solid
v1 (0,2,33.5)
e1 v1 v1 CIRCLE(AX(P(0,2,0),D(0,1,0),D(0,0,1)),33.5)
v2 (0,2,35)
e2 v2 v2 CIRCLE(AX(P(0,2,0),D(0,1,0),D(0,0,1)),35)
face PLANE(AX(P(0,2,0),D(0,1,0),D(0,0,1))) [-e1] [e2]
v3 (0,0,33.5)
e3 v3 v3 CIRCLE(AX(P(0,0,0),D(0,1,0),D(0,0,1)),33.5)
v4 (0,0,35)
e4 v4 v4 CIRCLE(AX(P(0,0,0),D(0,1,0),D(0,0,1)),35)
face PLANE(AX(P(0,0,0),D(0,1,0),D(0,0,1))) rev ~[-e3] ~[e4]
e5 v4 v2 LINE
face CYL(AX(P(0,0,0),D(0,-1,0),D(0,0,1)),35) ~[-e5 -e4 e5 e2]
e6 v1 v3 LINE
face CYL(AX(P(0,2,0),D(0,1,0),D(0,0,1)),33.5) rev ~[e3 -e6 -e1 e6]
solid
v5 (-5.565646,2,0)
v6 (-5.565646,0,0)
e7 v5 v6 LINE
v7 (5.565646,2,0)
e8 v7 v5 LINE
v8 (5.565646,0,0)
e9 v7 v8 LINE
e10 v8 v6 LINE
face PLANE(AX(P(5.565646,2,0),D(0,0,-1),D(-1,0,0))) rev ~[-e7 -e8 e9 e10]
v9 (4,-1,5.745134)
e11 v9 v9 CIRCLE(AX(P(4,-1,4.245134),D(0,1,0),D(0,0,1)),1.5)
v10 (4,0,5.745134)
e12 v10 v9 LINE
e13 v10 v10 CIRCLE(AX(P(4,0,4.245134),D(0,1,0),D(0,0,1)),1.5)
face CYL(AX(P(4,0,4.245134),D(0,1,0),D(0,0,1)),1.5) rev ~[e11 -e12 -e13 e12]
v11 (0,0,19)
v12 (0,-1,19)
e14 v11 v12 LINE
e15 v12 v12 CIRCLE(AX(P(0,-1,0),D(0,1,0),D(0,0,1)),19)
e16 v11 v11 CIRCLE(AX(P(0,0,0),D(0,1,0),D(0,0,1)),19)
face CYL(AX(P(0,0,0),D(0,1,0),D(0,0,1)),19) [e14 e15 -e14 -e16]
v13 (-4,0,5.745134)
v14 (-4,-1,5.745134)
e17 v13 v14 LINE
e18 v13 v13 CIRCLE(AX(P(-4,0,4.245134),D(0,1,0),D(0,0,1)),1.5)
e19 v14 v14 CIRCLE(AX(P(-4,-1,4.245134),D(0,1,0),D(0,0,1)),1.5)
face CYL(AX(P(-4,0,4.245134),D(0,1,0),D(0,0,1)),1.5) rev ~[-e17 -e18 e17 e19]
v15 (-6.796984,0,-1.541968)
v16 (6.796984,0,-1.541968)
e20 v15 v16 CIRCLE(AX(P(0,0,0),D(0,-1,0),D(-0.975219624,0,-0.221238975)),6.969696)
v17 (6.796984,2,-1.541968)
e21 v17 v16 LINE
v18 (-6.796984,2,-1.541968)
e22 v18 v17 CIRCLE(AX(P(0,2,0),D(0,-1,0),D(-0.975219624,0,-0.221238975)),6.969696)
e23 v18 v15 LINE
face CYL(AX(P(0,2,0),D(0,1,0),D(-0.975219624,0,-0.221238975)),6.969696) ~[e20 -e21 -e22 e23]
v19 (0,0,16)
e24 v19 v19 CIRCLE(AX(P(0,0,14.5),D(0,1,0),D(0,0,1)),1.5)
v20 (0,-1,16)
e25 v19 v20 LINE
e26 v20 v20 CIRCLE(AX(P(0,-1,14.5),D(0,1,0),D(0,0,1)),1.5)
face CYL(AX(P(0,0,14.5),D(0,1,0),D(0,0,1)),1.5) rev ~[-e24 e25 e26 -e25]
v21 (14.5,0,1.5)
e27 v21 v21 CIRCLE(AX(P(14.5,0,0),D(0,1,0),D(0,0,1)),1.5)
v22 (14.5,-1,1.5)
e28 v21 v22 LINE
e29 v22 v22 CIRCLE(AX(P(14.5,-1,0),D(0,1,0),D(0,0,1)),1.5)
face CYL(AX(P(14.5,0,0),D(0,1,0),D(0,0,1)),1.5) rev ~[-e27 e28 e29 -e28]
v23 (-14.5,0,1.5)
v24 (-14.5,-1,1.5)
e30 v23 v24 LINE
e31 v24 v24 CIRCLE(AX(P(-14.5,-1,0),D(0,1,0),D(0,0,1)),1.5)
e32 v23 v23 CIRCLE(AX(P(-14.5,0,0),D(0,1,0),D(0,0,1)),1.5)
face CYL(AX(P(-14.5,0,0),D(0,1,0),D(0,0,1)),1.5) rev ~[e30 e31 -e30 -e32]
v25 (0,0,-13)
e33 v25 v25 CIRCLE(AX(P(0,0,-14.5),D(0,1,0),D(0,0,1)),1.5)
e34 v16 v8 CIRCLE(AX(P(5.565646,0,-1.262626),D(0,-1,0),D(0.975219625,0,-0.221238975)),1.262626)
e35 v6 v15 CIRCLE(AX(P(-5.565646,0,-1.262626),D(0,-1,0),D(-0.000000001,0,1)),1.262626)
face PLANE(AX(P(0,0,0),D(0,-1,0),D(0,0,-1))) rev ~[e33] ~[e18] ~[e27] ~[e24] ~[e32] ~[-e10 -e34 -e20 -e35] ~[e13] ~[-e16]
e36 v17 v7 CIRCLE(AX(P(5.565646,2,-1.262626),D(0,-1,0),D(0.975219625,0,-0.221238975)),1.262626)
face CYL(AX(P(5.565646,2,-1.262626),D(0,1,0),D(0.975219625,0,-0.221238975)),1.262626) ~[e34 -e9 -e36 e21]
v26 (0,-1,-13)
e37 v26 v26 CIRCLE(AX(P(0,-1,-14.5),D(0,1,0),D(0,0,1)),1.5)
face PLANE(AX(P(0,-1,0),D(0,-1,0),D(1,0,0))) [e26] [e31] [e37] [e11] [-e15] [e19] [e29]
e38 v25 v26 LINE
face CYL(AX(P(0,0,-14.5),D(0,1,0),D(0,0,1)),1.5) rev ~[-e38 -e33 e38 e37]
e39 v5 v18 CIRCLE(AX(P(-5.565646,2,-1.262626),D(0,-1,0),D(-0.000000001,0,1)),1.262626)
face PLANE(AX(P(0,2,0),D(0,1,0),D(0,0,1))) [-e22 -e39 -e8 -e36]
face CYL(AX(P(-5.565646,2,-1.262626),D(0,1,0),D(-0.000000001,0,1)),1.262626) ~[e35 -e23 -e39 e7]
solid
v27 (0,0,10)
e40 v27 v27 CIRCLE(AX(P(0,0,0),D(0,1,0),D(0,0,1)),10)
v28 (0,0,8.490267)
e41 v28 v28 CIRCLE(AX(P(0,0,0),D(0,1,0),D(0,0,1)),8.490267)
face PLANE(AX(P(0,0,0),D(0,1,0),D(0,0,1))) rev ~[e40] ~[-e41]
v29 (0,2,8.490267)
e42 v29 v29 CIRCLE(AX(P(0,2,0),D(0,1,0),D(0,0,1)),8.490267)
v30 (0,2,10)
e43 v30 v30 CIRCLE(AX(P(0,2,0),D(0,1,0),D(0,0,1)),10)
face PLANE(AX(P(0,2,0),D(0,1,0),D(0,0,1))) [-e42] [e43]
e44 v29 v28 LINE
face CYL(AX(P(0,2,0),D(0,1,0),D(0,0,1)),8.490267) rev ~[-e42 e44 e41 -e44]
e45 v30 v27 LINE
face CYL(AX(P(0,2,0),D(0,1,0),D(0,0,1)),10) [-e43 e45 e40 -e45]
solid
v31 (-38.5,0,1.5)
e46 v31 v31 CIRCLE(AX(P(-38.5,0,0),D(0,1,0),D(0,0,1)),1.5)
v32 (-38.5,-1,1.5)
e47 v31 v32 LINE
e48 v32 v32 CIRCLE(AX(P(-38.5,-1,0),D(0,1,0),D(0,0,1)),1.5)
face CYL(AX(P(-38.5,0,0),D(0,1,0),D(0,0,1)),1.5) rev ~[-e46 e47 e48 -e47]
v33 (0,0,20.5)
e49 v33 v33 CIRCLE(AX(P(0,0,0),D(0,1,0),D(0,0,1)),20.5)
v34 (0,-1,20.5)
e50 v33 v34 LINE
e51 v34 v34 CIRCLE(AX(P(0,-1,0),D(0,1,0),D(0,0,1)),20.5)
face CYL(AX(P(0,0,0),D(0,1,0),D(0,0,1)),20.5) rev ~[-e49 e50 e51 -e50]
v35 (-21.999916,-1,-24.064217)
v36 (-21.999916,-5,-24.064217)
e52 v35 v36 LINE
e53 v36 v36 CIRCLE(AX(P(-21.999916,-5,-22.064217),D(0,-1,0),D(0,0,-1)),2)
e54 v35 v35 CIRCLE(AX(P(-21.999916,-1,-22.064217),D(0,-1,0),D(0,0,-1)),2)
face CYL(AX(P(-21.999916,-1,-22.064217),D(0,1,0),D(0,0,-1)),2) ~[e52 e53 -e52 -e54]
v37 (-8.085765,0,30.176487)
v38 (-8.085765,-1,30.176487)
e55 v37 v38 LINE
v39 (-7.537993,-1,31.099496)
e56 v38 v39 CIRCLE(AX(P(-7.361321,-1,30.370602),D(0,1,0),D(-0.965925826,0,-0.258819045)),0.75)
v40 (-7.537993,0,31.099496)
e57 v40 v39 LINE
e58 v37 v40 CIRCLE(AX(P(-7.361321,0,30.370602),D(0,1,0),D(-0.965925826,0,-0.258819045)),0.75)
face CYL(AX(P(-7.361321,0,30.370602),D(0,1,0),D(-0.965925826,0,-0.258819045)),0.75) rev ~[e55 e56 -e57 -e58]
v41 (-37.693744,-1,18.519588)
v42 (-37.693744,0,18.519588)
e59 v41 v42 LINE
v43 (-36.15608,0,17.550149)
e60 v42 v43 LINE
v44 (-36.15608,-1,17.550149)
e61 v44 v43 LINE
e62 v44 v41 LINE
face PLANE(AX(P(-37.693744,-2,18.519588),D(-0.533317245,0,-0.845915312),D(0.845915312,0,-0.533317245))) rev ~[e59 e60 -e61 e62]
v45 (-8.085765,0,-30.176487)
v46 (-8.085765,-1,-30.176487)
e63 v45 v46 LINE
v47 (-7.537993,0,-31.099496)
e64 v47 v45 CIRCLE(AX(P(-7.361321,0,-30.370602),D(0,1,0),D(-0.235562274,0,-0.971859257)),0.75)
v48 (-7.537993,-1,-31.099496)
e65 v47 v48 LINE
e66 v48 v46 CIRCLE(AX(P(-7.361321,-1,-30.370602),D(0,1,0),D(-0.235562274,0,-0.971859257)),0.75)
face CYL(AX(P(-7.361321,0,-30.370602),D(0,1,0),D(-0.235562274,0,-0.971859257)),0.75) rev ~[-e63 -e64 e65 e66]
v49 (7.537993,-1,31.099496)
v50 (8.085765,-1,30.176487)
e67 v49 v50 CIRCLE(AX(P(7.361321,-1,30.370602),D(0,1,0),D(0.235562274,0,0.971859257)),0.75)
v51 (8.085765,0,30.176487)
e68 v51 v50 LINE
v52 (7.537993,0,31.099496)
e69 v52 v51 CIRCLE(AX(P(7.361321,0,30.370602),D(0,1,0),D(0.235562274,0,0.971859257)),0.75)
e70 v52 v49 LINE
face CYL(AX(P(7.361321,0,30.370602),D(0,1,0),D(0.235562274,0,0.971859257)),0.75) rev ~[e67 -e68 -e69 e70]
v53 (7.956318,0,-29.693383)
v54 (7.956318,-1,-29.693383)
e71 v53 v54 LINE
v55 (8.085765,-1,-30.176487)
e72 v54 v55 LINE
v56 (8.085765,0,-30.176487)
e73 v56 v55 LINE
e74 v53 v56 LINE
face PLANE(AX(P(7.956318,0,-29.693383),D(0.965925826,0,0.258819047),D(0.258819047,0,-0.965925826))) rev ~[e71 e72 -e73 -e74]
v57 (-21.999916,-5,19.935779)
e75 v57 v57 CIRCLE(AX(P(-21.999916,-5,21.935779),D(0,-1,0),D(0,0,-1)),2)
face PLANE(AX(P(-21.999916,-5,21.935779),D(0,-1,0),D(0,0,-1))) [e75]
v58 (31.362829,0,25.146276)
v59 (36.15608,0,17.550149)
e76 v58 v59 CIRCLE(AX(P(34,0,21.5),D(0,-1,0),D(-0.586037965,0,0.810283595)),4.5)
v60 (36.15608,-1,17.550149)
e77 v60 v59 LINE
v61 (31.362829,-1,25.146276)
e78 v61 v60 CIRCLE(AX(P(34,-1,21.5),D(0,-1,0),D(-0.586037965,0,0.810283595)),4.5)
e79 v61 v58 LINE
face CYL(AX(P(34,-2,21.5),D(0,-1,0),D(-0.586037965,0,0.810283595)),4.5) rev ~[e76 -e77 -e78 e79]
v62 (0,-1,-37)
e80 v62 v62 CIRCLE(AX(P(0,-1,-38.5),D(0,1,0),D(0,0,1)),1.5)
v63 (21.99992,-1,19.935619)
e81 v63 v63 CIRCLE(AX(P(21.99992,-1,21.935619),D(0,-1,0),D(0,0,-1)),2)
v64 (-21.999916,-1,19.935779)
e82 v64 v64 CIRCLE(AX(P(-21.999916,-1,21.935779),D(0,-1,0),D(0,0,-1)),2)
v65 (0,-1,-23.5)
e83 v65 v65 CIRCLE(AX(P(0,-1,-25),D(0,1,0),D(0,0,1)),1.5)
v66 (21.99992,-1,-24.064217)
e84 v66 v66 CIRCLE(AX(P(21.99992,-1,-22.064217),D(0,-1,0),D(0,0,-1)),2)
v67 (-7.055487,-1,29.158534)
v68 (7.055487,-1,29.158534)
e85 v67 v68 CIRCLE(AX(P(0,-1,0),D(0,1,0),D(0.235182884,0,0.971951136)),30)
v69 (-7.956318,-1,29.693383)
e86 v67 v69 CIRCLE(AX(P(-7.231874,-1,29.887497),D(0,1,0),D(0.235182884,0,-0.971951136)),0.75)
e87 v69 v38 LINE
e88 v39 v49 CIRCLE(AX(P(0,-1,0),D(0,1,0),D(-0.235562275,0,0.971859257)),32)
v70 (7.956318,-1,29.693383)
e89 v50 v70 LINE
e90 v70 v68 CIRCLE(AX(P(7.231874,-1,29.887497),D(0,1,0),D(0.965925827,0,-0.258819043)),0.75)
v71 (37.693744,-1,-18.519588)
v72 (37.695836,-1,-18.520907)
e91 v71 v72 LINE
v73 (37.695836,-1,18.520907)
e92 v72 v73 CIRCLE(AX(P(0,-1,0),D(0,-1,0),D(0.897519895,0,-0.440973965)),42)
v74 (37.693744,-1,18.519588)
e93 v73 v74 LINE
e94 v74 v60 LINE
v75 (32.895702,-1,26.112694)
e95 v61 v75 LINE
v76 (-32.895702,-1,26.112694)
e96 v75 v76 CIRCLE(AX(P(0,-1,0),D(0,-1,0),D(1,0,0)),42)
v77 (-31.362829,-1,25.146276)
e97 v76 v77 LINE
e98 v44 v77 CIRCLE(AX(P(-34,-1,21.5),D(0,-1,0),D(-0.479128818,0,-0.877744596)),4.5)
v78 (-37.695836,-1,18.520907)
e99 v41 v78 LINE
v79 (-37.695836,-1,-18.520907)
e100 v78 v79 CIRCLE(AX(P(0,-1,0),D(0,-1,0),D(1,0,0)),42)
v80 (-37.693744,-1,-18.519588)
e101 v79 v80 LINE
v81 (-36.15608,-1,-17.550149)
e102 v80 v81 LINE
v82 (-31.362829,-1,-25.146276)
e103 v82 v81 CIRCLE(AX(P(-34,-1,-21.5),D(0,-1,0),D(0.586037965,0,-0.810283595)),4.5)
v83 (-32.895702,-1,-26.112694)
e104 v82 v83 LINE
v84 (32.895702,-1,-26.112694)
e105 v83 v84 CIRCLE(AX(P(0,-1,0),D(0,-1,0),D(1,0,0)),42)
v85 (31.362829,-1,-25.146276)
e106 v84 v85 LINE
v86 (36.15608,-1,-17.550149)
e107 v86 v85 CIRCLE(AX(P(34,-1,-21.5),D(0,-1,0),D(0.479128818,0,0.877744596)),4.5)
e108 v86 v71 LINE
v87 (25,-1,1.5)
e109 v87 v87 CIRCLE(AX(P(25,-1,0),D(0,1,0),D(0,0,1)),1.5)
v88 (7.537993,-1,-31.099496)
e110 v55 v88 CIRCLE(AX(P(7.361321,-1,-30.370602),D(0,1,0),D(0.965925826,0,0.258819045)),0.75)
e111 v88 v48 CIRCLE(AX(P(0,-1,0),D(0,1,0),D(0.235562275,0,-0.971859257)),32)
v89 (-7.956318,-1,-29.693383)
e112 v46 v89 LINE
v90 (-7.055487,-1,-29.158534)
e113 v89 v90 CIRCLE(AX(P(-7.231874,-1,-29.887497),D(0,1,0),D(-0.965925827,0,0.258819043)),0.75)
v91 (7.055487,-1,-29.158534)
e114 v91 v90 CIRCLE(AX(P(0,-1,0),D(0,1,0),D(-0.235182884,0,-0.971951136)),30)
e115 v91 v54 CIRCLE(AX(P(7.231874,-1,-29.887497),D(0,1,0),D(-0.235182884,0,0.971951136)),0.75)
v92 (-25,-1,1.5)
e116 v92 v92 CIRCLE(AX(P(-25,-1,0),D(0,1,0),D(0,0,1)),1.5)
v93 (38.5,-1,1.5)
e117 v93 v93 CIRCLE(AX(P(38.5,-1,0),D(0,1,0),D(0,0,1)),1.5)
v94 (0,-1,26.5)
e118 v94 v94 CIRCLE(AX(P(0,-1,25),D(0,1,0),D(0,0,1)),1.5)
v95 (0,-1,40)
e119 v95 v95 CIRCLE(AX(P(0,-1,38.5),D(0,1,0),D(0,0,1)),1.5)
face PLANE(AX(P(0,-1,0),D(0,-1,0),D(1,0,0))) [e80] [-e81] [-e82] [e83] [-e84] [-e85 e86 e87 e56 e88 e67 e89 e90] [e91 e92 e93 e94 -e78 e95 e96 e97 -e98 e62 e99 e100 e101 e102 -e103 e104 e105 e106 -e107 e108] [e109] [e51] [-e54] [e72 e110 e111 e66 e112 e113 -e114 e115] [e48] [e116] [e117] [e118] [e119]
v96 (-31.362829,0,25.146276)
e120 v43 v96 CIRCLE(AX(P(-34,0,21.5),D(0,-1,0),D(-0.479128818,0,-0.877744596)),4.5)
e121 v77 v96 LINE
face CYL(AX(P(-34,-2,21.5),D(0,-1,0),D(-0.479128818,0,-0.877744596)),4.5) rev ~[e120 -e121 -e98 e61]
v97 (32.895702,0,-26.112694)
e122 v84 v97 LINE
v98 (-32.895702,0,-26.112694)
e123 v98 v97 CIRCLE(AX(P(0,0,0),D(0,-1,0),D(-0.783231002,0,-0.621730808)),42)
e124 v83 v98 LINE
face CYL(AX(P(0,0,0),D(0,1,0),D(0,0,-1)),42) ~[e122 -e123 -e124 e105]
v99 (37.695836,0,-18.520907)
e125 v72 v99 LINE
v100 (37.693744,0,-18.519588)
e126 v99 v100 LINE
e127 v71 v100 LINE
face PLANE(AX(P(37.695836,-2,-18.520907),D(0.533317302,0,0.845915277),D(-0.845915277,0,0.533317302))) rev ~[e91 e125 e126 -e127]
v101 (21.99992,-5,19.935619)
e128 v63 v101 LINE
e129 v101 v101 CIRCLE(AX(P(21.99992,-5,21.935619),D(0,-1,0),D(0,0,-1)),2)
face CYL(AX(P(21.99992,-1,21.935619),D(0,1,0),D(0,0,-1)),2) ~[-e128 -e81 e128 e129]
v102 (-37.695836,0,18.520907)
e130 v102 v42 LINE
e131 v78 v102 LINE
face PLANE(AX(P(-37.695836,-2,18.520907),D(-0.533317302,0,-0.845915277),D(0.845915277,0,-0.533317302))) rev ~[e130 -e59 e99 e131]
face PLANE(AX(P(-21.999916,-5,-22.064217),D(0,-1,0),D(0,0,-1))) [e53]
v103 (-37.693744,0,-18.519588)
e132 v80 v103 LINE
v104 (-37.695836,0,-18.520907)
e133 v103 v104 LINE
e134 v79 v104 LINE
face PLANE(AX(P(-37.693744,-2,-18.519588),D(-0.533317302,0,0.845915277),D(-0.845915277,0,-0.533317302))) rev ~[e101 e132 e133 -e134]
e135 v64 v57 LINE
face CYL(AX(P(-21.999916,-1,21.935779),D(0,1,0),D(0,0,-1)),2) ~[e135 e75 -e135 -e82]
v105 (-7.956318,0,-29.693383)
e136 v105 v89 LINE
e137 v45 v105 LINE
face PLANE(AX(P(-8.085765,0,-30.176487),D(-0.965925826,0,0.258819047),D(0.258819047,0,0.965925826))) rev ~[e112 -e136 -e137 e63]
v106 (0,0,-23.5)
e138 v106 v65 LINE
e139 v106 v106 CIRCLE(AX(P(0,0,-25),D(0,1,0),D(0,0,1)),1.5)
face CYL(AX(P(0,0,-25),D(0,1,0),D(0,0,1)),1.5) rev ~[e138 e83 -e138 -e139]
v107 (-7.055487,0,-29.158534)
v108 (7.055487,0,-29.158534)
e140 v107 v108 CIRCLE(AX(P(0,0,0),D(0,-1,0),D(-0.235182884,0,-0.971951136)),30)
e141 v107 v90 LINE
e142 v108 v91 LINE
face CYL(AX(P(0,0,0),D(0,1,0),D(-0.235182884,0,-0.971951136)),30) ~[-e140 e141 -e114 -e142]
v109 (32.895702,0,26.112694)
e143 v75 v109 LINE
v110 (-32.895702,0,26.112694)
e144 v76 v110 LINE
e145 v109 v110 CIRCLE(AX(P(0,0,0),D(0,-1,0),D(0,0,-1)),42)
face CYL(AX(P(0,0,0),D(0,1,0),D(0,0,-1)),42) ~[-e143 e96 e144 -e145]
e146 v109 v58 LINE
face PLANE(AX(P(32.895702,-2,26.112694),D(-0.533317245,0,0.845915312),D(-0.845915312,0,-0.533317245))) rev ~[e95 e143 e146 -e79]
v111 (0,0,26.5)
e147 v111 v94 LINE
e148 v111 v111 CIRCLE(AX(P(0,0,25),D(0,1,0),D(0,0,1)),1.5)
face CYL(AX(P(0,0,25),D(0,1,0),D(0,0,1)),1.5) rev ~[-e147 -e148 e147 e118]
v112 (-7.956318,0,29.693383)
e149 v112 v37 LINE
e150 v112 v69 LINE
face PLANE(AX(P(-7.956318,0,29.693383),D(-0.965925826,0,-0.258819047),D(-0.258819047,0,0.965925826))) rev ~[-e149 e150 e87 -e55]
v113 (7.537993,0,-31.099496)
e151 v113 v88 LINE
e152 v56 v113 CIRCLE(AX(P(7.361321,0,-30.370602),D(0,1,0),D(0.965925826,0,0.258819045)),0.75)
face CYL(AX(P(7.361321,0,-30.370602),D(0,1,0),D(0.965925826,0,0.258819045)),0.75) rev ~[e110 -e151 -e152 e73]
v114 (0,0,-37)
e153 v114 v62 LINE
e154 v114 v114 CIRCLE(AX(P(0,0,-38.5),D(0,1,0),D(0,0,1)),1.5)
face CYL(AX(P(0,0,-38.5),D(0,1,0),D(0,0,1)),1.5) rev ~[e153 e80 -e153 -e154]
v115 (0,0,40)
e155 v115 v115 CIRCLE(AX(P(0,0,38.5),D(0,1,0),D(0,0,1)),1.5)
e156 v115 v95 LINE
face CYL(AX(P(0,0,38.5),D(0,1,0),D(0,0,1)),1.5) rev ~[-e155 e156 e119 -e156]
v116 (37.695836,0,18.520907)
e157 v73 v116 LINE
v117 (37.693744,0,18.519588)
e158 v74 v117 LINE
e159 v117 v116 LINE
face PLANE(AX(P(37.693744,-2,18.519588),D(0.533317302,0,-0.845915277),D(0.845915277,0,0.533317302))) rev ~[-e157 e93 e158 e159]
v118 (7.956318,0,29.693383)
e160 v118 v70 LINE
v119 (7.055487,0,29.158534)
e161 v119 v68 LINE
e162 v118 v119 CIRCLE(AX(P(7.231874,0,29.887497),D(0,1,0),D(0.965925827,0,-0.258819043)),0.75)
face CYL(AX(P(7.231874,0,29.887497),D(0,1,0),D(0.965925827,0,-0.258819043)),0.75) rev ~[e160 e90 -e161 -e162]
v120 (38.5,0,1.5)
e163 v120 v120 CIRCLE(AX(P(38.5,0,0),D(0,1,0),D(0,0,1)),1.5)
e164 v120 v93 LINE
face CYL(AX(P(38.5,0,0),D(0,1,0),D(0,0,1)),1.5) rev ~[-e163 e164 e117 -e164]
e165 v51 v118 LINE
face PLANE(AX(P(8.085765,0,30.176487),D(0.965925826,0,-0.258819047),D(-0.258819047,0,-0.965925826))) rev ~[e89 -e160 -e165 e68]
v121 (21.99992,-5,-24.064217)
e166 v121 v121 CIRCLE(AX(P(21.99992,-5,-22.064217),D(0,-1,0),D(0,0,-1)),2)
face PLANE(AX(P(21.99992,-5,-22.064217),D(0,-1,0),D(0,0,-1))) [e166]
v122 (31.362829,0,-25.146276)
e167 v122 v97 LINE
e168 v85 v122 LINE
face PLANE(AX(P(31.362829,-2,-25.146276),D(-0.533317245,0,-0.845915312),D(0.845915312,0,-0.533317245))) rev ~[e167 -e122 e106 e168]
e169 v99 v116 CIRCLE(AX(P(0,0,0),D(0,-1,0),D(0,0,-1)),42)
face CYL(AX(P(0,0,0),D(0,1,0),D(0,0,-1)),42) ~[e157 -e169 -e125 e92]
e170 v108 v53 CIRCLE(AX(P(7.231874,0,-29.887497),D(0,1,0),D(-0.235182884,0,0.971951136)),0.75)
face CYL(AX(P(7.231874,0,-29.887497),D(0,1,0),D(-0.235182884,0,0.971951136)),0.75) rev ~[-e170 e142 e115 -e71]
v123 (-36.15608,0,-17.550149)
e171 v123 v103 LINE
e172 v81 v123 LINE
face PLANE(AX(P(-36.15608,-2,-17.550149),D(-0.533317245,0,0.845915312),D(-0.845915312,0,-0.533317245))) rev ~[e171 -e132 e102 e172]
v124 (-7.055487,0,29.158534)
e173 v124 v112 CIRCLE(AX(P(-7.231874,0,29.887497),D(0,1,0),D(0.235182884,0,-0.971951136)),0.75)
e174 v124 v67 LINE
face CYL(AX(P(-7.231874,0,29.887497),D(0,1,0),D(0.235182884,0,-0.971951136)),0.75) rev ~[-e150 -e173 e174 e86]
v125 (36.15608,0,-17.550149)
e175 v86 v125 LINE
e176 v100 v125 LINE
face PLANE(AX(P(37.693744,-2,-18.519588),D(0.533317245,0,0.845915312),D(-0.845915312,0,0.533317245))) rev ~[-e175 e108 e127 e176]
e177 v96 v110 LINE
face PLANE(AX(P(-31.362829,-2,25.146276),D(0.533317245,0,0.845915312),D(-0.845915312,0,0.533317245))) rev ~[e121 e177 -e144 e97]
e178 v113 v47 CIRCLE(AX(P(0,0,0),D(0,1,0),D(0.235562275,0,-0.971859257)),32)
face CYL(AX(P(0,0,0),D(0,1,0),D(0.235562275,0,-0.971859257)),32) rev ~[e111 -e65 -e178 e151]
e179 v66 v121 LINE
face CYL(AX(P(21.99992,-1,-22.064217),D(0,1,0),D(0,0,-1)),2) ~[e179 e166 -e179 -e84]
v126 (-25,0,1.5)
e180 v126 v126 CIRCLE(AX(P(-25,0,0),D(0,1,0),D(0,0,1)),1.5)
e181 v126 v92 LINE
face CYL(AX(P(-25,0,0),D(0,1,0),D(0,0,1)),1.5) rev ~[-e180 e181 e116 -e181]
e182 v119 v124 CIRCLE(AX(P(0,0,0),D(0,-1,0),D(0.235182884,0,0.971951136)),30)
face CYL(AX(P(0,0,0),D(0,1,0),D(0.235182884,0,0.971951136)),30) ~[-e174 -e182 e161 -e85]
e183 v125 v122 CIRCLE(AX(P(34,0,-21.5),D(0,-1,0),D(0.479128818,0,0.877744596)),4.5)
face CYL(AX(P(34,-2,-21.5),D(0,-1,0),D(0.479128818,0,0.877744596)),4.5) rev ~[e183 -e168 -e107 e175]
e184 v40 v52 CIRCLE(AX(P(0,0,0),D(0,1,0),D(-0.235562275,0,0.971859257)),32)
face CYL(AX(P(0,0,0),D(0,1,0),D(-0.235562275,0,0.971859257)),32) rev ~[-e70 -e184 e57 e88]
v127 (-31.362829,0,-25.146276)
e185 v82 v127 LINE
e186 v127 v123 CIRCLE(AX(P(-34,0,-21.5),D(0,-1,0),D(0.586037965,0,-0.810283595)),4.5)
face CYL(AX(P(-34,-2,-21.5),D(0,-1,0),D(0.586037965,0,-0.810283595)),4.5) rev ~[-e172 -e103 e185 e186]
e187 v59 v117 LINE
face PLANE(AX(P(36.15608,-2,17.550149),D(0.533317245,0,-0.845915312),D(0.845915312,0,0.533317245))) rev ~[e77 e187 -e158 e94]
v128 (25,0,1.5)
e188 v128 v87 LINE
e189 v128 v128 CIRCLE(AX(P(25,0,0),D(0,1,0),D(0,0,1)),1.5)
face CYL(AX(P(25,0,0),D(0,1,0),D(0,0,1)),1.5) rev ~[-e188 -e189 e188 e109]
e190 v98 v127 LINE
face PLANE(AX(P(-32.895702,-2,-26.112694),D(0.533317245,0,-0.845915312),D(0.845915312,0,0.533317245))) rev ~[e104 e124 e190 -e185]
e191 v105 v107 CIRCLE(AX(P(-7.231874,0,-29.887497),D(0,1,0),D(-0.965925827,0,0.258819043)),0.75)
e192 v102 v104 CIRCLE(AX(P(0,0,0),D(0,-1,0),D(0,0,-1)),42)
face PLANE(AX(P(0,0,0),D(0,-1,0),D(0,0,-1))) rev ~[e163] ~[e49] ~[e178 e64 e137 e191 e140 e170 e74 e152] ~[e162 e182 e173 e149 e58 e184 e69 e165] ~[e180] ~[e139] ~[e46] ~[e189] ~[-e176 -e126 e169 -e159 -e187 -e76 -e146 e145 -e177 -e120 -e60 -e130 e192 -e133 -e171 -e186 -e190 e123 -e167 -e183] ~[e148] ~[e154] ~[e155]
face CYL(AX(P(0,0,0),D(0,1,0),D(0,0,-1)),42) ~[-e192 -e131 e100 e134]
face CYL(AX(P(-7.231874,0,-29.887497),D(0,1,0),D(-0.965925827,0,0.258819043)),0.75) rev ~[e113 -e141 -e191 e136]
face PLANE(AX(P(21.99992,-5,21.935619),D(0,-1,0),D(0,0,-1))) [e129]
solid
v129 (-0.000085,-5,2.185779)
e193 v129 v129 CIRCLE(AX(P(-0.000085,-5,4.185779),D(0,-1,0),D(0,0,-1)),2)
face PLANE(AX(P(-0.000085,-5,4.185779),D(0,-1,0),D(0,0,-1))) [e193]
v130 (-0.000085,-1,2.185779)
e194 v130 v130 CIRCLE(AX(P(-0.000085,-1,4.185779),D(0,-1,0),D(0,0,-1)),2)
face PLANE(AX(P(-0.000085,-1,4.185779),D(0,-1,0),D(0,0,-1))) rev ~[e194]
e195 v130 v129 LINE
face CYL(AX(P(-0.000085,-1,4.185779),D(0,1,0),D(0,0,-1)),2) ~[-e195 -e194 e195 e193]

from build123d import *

# Parameters (mm, degrees)
SKETCH_1_R          = 35
EXTRUDE_1_DEPTH     = 2
SKETCH_2_R          = 33.5
SKETCH_2_R_2        = 10
SKETCH_2_R_3        = 8.490267481
CUT_EXTRUDE_1_DEPTH = 2
SKETCH_5_R          = 42
EXTRUDE_3_DEPTH     = 2
CUT_EXTRUDE_3_DEPTH = 2
SKETCH_7_R          = 1.5
CUT_EXTRUDE_4_DEPTH = 2
CUT_EXTRUDE_5_DEPTH = 2
SKETCH_10_R         = 20.5
SKETCH_10_R_2       = 19
CUT_EXTRUDE_6_DEPTH = 2
SKETCH_11_R         = 1.5
CUT_EXTRUDE_7_DEPTH = 2
SKETCH_12_R         = 1.5
CUT_EXTRUDE_8_DEPTH = 2
SKETCH_13_R         = 42
CUT_EXTRUDE_9_DEPTH = 1
SKETCH_15_R         = 2
EXTRUDE_5_DEPTH     = 4


with BuildPart() as part:
    # Эскиз1 → Бобышка-Вытянуть1 (new body)
    with BuildSketch(Plane(origin=(0, 0, 0), x_dir=(1, 0, 0), z_dir=(0, 1, 0))):
        with Locations(Location((0, 0, 0), (0, 0, 270))):
            Circle(SKETCH_1_R)
    extrude(amount=EXTRUDE_1_DEPTH)

    # Эскиз2 → Вырез-Вытянуть1 (cut)
    # profile 1 of 2: a face of its own
    with BuildSketch(Plane(origin=(0, 2, 0), x_dir=(1, 0, 0), z_dir=(0, 1, 0))):
        with Locations(Location((0, 0, 0), (0, 0, 270))):
            Circle(SKETCH_2_R)
        with Locations(Location((0, 0, 0), (0, 0, 270))):
            Circle(SKETCH_2_R_2, mode=Mode.SUBTRACT)
    # profile 2 of 2: a face of its own
    with BuildSketch(Plane(origin=(0, 2, 0), x_dir=(1, 0, 0), z_dir=(0, 1, 0))):
        with Locations(Location((0, 0, 0), (0, 0, 270))):
            Circle(SKETCH_2_R_3)
        with BuildLine():
            Line((5.565646409, 0), (-5.565646409, 0))
            ThreePointArc((-5.565646409, 0), (-6.552289655, 0.474742908), (-6.796984316, 1.5419684))
            ThreePointArc((-6.796984316, 1.5419684), (0, 6.969696), (6.796984316, 1.5419684))
            ThreePointArc((6.796984316, 1.5419684), (6.552289655, 0.474742908), (5.565646409, 0))
        make_face(mode=Mode.SUBTRACT)
    extrude(amount=-CUT_EXTRUDE_1_DEPTH, mode=Mode.SUBTRACT)


with BuildPart() as cut_extrude_1_piece_1:
    # of the separate pieces the step leaves, piece 1, a body of its own (cut_extrude_1_pieces)
    add(part.part.solids().sort_by_distance((0, 0, 35))[0])


with BuildPart() as cut_extrude_1_piece_2:
    # of the separate pieces the step leaves, piece 2, a body of its own (cut_extrude_1_pieces)
    add(part.part.solids().sort_by_distance((0, 0, 10))[0])


with BuildPart() as cut_extrude_1_piece_3:
    # of the separate pieces the step leaves, piece 3, a body of its own (cut_extrude_1_pieces)
    add(part.part.solids().sort_by_distance((6.796984316, 0, -1.5419684))[0])

    # Эскиз5 → Бобышка-Вытянуть3 (add)
    with BuildSketch(Plane.XZ):
        with Locations(Location((0, 0, 0), (0, 0, 270))):
            Circle(SKETCH_5_R)
    extrude(amount=EXTRUDE_3_DEPTH)

    # Эскиз6 → Вырез-Вытянуть3 (cut)
    with BuildSketch(Plane.XZ.offset(2)):
        with BuildLine():
            Line((37.693744248, 18.519588007), (37.695835599, 18.520906524))
            ThreePointArc((37.695835599, 18.520906524), (35.49929728, 22.445487133), (32.895702092, 26.112693923))
            Line((32.895702092, 26.112693923), (31.362829157, 25.146276175))
            ThreePointArc((31.362829157, 25.146276175), (30.194326868, 19.098572921), (36.15607968, 17.550149318))
            Line((36.15607968, 17.550149318), (37.693744248, 18.519588007))
        make_face()
        with BuildLine():
            Line((-31.362829157, 25.146276175), (-32.895702092, 26.112693923))
            ThreePointArc((-32.895702092, 26.112693923), (-35.49929728, 22.445487133), (-37.695835599, 18.520906524))
            Line((-37.695835599, 18.520906524), (-37.693744248, 18.519588007))
            Line((-37.693744248, 18.519588007), (-36.15607968, 17.550149318))
            ThreePointArc((-36.15607968, 17.550149318), (-30.194326868, 19.098572921), (-31.362829157, 25.146276175))
        make_face()
        with BuildLine():
            Line((-37.693744248, -18.519588007), (-37.695835599, -18.520906524))
            ThreePointArc((-37.695835599, -18.520906524), (-35.49929728, -22.445487133), (-32.895702092, -26.112693923))
            Line((-32.895702092, -26.112693923), (-31.362829157, -25.146276175))
            ThreePointArc((-31.362829157, -25.146276175), (-30.194326868, -19.098572921), (-36.15607968, -17.550149318))
            Line((-36.15607968, -17.550149318), (-37.693744248, -18.519588007))
        make_face()
        with BuildLine():
            Line((31.362829157, -25.146276175), (32.895702092, -26.112693923))
            ThreePointArc((32.895702092, -26.112693923), (35.49929728, -22.445487133), (37.695835599, -18.520906524))
            Line((37.695835599, -18.520906524), (37.693744248, -18.519588007))
            Line((37.693744248, -18.519588007), (36.15607968, -17.550149318))
            ThreePointArc((36.15607968, -17.550149318), (30.194326868, -19.098572921), (31.362829157, -25.146276175))
        make_face()
    extrude(amount=-CUT_EXTRUDE_3_DEPTH, mode=Mode.SUBTRACT)

    # Эскиз7 → Вырез-Вытянуть4 (cut)
    with BuildSketch(Plane(origin=(0, 0, 0), x_dir=(1, 0, 0), z_dir=(0, 1, 0))):
        with Locations(Location((0, 25, 0), (0, 0, 270))):
            Circle(SKETCH_7_R)
        with Locations(Location((-25, 0, 0), (0, 0, 270))):
            Circle(SKETCH_7_R)
        with Locations(Location((25, 0, 0), (0, 0, 270))):
            Circle(SKETCH_7_R)
        with Locations(Location((0, -25, 0), (0, 0, 270))):
            Circle(SKETCH_7_R)
        with Locations(Location((4, -4.24513374, 0), (0, 0, 270))):
            Circle(SKETCH_7_R)
        with Locations(Location((-4, -4.24513374, 0), (0, 0, 270))):
            Circle(SKETCH_7_R)
    extrude(amount=-CUT_EXTRUDE_4_DEPTH, mode=Mode.SUBTRACT)

    # Эскиз9 → Вырез-Вытянуть5 (cut)
    with BuildSketch(Plane(origin=(0, 0, 0), x_dir=(1, 0, 0), z_dir=(0, 1, 0))):
        with BuildLine():
            Line((-7.956318037, -29.693383157), (-8.085765453, -30.176487487))
            ThreePointArc((-8.085765453, -30.176487487), (-8.006293038, -30.753369556), (-7.537992789, -31.099496213))
            ThreePointArc((-7.537992789, -31.099496213), (0, -32), (7.537992789, -31.099496213))
            ThreePointArc((7.537992789, -31.099496213), (8.006293038, -30.753369556), (8.085765453, -30.176487487))
            Line((8.085765453, -30.176487487), (7.956318037, -29.693383157))
            ThreePointArc((7.956318037, -29.693383157), (7.614767331, -29.242600206), (7.055486505, -29.158534088))
            ThreePointArc((7.055486505, -29.158534088), (0, -30), (-7.055486505, -29.158534088))
            ThreePointArc((-7.055486505, -29.158534088), (-7.614767331, -29.242600206), (-7.956318037, -29.693383157))
        make_face()
        with BuildLine():
            Line((7.956318037, 29.693383157), (8.085765453, 30.176487487))
            ThreePointArc((8.085765453, 30.176487487), (8.006293038, 30.753369556), (7.537992789, 31.099496213))
            ThreePointArc((7.537992789, 31.099496213), (0, 32), (-7.537992789, 31.099496213))
            ThreePointArc((-7.537992789, 31.099496213), (-8.006293038, 30.753369556), (-8.085765453, 30.176487487))
            Line((-8.085765453, 30.176487487), (-7.956318037, 29.693383157))
            ThreePointArc((-7.956318037, 29.693383157), (-7.614767331, 29.242600206), (-7.055486505, 29.158534088))
            ThreePointArc((-7.055486505, 29.158534088), (0, 30), (7.055486505, 29.158534088))
            ThreePointArc((7.055486505, 29.158534088), (7.614767331, 29.242600206), (7.956318037, 29.693383157))
        make_face()
    extrude(amount=-CUT_EXTRUDE_5_DEPTH, mode=Mode.SUBTRACT)

    # Эскиз10 → Вырез-Вытянуть6 (cut)
    with BuildSketch(Plane(origin=(0, 0, 0), x_dir=(1, 0, 0), z_dir=(0, 1, 0))):
        with Locations(Location((0, 0, 0), (0, 0, 270))):
            Circle(SKETCH_10_R)
        with Locations(Location((0, 0, 0), (0, 0, 270))):
            Circle(SKETCH_10_R_2, mode=Mode.SUBTRACT)
    extrude(amount=-CUT_EXTRUDE_6_DEPTH, mode=Mode.SUBTRACT)


with BuildPart() as cut_extrude_6_piece_1:
    # of the separate pieces the step leaves, piece 1, a body of its own (cut_extrude_6_pieces)
    add(cut_extrude_1_piece_3.part.solids().sort_by_distance((-32.895702092, 0, -26.112693923))[0])

    # Эскиз12 → Вырез-Вытянуть8 (cut)
    with BuildSketch(Plane(origin=(0, 0, 0), x_dir=(1, 0, 0), z_dir=(0, 1, 0))):
        with Locations(Location((0, -38.5, 0), (0, 0, 270))):
            Circle(SKETCH_12_R)
        with Locations(Location((-38.5, 0, 0), (0, 0, 270))):
            Circle(SKETCH_12_R)
        with Locations(Location((0, 38.5, 0), (0, 0, 270))):
            Circle(SKETCH_12_R)
        with Locations(Location((38.5, 0, 0), (0, 0, 270))):
            Circle(SKETCH_12_R)
    extrude(amount=-CUT_EXTRUDE_8_DEPTH, mode=Mode.SUBTRACT)


with BuildPart() as cut_extrude_6_piece_2:
    # of the separate pieces the step leaves, piece 2, a body of its own (cut_extrude_6_pieces)
    add(cut_extrude_1_piece_3.part.solids().sort_by_distance((0, 0, 19))[0])

    # Эскиз11 → Вырез-Вытянуть7 (cut)
    with BuildSketch(Plane(origin=(0, 0, 0), x_dir=(1, 0, 0), z_dir=(0, 1, 0))):
        with Locations(Location((0, 14.5, 0), (0, 0, 270))):
            Circle(SKETCH_11_R)
        with Locations(Location((14.5, 0, 0), (0, 0, 270))):
            Circle(SKETCH_11_R)
        with Locations(Location((0, -14.5, 0), (0, 0, 270))):
            Circle(SKETCH_11_R)
        with Locations(Location((-14.5, 0, 0), (0, 0, 270))):
            Circle(SKETCH_11_R)
    extrude(amount=-CUT_EXTRUDE_7_DEPTH, mode=Mode.SUBTRACT)


with BuildPart() as cut_extrude_9_tool:
    # Эскиз13 → Вырез-Вытянуть9 (new body)
    with BuildSketch(Plane.XZ.offset(2)):
        Circle(SKETCH_13_R)
    extrude(amount=-CUT_EXTRUDE_9_DEPTH)


with BuildPart() as cut_extrude_6_piece_1_1:
    add(cut_extrude_6_piece_1.part)

    # Вырез-Вытянуть9: cut by cut_extrude_9_tool
    add(cut_extrude_9_tool.part, mode=Mode.SUBTRACT)

    # Эскиз15 → Бобышка-Вытянуть5 (add)
    with BuildSketch(Plane.XZ.offset(1)):
        with Locations(Location((21.999920011, 21.935618834, 0), (0, 0, 270))):
            Circle(SKETCH_15_R)
        with Locations(Location((21.999920011, -22.064217134, 0), (0, 0, 270))):
            Circle(SKETCH_15_R)
        with Locations(Location((-21.999915957, -22.064217134, 0), (0, 0, 270))):
            Circle(SKETCH_15_R)
        with Locations(Location((-21.999915957, 21.935779051, 0), (0, 0, 270))):
            Circle(SKETCH_15_R)
        with Locations(Location((-8.4963e-05, 4.185778691, 0), (0, 0, 270))):
            Circle(SKETCH_15_R)
    extrude(amount=EXTRUDE_5_DEPTH)


with BuildPart() as cut_extrude_6_piece_2_1:
    add(cut_extrude_6_piece_2.part)

    # Вырез-Вытянуть9: cut by cut_extrude_9_tool
    add(cut_extrude_9_tool.part, mode=Mode.SUBTRACT)


with BuildPart() as extrude_5_piece_1:
    # of the separate pieces the step leaves, piece 1, a body of its own (extrude_5_pieces)
    add(cut_extrude_6_piece_1_1.part.solids().sort_by_distance((-32.895702092, 0, -26.112693923))[0])


with BuildPart() as extrude_5_piece_2:
    # of the separate pieces the step leaves, piece 2, a body of its own (extrude_5_pieces)
    add(cut_extrude_6_piece_1_1.part.solids().sort_by_distance((-8.4963e-05, -1, 2.185778691))[0])


solid = Compound([cut_extrude_1_piece_1.part, cut_extrude_1_piece_2.part, cut_extrude_6_piece_2_1.part, extrude_5_piece_1.part, extrude_5_piece_2.part])
